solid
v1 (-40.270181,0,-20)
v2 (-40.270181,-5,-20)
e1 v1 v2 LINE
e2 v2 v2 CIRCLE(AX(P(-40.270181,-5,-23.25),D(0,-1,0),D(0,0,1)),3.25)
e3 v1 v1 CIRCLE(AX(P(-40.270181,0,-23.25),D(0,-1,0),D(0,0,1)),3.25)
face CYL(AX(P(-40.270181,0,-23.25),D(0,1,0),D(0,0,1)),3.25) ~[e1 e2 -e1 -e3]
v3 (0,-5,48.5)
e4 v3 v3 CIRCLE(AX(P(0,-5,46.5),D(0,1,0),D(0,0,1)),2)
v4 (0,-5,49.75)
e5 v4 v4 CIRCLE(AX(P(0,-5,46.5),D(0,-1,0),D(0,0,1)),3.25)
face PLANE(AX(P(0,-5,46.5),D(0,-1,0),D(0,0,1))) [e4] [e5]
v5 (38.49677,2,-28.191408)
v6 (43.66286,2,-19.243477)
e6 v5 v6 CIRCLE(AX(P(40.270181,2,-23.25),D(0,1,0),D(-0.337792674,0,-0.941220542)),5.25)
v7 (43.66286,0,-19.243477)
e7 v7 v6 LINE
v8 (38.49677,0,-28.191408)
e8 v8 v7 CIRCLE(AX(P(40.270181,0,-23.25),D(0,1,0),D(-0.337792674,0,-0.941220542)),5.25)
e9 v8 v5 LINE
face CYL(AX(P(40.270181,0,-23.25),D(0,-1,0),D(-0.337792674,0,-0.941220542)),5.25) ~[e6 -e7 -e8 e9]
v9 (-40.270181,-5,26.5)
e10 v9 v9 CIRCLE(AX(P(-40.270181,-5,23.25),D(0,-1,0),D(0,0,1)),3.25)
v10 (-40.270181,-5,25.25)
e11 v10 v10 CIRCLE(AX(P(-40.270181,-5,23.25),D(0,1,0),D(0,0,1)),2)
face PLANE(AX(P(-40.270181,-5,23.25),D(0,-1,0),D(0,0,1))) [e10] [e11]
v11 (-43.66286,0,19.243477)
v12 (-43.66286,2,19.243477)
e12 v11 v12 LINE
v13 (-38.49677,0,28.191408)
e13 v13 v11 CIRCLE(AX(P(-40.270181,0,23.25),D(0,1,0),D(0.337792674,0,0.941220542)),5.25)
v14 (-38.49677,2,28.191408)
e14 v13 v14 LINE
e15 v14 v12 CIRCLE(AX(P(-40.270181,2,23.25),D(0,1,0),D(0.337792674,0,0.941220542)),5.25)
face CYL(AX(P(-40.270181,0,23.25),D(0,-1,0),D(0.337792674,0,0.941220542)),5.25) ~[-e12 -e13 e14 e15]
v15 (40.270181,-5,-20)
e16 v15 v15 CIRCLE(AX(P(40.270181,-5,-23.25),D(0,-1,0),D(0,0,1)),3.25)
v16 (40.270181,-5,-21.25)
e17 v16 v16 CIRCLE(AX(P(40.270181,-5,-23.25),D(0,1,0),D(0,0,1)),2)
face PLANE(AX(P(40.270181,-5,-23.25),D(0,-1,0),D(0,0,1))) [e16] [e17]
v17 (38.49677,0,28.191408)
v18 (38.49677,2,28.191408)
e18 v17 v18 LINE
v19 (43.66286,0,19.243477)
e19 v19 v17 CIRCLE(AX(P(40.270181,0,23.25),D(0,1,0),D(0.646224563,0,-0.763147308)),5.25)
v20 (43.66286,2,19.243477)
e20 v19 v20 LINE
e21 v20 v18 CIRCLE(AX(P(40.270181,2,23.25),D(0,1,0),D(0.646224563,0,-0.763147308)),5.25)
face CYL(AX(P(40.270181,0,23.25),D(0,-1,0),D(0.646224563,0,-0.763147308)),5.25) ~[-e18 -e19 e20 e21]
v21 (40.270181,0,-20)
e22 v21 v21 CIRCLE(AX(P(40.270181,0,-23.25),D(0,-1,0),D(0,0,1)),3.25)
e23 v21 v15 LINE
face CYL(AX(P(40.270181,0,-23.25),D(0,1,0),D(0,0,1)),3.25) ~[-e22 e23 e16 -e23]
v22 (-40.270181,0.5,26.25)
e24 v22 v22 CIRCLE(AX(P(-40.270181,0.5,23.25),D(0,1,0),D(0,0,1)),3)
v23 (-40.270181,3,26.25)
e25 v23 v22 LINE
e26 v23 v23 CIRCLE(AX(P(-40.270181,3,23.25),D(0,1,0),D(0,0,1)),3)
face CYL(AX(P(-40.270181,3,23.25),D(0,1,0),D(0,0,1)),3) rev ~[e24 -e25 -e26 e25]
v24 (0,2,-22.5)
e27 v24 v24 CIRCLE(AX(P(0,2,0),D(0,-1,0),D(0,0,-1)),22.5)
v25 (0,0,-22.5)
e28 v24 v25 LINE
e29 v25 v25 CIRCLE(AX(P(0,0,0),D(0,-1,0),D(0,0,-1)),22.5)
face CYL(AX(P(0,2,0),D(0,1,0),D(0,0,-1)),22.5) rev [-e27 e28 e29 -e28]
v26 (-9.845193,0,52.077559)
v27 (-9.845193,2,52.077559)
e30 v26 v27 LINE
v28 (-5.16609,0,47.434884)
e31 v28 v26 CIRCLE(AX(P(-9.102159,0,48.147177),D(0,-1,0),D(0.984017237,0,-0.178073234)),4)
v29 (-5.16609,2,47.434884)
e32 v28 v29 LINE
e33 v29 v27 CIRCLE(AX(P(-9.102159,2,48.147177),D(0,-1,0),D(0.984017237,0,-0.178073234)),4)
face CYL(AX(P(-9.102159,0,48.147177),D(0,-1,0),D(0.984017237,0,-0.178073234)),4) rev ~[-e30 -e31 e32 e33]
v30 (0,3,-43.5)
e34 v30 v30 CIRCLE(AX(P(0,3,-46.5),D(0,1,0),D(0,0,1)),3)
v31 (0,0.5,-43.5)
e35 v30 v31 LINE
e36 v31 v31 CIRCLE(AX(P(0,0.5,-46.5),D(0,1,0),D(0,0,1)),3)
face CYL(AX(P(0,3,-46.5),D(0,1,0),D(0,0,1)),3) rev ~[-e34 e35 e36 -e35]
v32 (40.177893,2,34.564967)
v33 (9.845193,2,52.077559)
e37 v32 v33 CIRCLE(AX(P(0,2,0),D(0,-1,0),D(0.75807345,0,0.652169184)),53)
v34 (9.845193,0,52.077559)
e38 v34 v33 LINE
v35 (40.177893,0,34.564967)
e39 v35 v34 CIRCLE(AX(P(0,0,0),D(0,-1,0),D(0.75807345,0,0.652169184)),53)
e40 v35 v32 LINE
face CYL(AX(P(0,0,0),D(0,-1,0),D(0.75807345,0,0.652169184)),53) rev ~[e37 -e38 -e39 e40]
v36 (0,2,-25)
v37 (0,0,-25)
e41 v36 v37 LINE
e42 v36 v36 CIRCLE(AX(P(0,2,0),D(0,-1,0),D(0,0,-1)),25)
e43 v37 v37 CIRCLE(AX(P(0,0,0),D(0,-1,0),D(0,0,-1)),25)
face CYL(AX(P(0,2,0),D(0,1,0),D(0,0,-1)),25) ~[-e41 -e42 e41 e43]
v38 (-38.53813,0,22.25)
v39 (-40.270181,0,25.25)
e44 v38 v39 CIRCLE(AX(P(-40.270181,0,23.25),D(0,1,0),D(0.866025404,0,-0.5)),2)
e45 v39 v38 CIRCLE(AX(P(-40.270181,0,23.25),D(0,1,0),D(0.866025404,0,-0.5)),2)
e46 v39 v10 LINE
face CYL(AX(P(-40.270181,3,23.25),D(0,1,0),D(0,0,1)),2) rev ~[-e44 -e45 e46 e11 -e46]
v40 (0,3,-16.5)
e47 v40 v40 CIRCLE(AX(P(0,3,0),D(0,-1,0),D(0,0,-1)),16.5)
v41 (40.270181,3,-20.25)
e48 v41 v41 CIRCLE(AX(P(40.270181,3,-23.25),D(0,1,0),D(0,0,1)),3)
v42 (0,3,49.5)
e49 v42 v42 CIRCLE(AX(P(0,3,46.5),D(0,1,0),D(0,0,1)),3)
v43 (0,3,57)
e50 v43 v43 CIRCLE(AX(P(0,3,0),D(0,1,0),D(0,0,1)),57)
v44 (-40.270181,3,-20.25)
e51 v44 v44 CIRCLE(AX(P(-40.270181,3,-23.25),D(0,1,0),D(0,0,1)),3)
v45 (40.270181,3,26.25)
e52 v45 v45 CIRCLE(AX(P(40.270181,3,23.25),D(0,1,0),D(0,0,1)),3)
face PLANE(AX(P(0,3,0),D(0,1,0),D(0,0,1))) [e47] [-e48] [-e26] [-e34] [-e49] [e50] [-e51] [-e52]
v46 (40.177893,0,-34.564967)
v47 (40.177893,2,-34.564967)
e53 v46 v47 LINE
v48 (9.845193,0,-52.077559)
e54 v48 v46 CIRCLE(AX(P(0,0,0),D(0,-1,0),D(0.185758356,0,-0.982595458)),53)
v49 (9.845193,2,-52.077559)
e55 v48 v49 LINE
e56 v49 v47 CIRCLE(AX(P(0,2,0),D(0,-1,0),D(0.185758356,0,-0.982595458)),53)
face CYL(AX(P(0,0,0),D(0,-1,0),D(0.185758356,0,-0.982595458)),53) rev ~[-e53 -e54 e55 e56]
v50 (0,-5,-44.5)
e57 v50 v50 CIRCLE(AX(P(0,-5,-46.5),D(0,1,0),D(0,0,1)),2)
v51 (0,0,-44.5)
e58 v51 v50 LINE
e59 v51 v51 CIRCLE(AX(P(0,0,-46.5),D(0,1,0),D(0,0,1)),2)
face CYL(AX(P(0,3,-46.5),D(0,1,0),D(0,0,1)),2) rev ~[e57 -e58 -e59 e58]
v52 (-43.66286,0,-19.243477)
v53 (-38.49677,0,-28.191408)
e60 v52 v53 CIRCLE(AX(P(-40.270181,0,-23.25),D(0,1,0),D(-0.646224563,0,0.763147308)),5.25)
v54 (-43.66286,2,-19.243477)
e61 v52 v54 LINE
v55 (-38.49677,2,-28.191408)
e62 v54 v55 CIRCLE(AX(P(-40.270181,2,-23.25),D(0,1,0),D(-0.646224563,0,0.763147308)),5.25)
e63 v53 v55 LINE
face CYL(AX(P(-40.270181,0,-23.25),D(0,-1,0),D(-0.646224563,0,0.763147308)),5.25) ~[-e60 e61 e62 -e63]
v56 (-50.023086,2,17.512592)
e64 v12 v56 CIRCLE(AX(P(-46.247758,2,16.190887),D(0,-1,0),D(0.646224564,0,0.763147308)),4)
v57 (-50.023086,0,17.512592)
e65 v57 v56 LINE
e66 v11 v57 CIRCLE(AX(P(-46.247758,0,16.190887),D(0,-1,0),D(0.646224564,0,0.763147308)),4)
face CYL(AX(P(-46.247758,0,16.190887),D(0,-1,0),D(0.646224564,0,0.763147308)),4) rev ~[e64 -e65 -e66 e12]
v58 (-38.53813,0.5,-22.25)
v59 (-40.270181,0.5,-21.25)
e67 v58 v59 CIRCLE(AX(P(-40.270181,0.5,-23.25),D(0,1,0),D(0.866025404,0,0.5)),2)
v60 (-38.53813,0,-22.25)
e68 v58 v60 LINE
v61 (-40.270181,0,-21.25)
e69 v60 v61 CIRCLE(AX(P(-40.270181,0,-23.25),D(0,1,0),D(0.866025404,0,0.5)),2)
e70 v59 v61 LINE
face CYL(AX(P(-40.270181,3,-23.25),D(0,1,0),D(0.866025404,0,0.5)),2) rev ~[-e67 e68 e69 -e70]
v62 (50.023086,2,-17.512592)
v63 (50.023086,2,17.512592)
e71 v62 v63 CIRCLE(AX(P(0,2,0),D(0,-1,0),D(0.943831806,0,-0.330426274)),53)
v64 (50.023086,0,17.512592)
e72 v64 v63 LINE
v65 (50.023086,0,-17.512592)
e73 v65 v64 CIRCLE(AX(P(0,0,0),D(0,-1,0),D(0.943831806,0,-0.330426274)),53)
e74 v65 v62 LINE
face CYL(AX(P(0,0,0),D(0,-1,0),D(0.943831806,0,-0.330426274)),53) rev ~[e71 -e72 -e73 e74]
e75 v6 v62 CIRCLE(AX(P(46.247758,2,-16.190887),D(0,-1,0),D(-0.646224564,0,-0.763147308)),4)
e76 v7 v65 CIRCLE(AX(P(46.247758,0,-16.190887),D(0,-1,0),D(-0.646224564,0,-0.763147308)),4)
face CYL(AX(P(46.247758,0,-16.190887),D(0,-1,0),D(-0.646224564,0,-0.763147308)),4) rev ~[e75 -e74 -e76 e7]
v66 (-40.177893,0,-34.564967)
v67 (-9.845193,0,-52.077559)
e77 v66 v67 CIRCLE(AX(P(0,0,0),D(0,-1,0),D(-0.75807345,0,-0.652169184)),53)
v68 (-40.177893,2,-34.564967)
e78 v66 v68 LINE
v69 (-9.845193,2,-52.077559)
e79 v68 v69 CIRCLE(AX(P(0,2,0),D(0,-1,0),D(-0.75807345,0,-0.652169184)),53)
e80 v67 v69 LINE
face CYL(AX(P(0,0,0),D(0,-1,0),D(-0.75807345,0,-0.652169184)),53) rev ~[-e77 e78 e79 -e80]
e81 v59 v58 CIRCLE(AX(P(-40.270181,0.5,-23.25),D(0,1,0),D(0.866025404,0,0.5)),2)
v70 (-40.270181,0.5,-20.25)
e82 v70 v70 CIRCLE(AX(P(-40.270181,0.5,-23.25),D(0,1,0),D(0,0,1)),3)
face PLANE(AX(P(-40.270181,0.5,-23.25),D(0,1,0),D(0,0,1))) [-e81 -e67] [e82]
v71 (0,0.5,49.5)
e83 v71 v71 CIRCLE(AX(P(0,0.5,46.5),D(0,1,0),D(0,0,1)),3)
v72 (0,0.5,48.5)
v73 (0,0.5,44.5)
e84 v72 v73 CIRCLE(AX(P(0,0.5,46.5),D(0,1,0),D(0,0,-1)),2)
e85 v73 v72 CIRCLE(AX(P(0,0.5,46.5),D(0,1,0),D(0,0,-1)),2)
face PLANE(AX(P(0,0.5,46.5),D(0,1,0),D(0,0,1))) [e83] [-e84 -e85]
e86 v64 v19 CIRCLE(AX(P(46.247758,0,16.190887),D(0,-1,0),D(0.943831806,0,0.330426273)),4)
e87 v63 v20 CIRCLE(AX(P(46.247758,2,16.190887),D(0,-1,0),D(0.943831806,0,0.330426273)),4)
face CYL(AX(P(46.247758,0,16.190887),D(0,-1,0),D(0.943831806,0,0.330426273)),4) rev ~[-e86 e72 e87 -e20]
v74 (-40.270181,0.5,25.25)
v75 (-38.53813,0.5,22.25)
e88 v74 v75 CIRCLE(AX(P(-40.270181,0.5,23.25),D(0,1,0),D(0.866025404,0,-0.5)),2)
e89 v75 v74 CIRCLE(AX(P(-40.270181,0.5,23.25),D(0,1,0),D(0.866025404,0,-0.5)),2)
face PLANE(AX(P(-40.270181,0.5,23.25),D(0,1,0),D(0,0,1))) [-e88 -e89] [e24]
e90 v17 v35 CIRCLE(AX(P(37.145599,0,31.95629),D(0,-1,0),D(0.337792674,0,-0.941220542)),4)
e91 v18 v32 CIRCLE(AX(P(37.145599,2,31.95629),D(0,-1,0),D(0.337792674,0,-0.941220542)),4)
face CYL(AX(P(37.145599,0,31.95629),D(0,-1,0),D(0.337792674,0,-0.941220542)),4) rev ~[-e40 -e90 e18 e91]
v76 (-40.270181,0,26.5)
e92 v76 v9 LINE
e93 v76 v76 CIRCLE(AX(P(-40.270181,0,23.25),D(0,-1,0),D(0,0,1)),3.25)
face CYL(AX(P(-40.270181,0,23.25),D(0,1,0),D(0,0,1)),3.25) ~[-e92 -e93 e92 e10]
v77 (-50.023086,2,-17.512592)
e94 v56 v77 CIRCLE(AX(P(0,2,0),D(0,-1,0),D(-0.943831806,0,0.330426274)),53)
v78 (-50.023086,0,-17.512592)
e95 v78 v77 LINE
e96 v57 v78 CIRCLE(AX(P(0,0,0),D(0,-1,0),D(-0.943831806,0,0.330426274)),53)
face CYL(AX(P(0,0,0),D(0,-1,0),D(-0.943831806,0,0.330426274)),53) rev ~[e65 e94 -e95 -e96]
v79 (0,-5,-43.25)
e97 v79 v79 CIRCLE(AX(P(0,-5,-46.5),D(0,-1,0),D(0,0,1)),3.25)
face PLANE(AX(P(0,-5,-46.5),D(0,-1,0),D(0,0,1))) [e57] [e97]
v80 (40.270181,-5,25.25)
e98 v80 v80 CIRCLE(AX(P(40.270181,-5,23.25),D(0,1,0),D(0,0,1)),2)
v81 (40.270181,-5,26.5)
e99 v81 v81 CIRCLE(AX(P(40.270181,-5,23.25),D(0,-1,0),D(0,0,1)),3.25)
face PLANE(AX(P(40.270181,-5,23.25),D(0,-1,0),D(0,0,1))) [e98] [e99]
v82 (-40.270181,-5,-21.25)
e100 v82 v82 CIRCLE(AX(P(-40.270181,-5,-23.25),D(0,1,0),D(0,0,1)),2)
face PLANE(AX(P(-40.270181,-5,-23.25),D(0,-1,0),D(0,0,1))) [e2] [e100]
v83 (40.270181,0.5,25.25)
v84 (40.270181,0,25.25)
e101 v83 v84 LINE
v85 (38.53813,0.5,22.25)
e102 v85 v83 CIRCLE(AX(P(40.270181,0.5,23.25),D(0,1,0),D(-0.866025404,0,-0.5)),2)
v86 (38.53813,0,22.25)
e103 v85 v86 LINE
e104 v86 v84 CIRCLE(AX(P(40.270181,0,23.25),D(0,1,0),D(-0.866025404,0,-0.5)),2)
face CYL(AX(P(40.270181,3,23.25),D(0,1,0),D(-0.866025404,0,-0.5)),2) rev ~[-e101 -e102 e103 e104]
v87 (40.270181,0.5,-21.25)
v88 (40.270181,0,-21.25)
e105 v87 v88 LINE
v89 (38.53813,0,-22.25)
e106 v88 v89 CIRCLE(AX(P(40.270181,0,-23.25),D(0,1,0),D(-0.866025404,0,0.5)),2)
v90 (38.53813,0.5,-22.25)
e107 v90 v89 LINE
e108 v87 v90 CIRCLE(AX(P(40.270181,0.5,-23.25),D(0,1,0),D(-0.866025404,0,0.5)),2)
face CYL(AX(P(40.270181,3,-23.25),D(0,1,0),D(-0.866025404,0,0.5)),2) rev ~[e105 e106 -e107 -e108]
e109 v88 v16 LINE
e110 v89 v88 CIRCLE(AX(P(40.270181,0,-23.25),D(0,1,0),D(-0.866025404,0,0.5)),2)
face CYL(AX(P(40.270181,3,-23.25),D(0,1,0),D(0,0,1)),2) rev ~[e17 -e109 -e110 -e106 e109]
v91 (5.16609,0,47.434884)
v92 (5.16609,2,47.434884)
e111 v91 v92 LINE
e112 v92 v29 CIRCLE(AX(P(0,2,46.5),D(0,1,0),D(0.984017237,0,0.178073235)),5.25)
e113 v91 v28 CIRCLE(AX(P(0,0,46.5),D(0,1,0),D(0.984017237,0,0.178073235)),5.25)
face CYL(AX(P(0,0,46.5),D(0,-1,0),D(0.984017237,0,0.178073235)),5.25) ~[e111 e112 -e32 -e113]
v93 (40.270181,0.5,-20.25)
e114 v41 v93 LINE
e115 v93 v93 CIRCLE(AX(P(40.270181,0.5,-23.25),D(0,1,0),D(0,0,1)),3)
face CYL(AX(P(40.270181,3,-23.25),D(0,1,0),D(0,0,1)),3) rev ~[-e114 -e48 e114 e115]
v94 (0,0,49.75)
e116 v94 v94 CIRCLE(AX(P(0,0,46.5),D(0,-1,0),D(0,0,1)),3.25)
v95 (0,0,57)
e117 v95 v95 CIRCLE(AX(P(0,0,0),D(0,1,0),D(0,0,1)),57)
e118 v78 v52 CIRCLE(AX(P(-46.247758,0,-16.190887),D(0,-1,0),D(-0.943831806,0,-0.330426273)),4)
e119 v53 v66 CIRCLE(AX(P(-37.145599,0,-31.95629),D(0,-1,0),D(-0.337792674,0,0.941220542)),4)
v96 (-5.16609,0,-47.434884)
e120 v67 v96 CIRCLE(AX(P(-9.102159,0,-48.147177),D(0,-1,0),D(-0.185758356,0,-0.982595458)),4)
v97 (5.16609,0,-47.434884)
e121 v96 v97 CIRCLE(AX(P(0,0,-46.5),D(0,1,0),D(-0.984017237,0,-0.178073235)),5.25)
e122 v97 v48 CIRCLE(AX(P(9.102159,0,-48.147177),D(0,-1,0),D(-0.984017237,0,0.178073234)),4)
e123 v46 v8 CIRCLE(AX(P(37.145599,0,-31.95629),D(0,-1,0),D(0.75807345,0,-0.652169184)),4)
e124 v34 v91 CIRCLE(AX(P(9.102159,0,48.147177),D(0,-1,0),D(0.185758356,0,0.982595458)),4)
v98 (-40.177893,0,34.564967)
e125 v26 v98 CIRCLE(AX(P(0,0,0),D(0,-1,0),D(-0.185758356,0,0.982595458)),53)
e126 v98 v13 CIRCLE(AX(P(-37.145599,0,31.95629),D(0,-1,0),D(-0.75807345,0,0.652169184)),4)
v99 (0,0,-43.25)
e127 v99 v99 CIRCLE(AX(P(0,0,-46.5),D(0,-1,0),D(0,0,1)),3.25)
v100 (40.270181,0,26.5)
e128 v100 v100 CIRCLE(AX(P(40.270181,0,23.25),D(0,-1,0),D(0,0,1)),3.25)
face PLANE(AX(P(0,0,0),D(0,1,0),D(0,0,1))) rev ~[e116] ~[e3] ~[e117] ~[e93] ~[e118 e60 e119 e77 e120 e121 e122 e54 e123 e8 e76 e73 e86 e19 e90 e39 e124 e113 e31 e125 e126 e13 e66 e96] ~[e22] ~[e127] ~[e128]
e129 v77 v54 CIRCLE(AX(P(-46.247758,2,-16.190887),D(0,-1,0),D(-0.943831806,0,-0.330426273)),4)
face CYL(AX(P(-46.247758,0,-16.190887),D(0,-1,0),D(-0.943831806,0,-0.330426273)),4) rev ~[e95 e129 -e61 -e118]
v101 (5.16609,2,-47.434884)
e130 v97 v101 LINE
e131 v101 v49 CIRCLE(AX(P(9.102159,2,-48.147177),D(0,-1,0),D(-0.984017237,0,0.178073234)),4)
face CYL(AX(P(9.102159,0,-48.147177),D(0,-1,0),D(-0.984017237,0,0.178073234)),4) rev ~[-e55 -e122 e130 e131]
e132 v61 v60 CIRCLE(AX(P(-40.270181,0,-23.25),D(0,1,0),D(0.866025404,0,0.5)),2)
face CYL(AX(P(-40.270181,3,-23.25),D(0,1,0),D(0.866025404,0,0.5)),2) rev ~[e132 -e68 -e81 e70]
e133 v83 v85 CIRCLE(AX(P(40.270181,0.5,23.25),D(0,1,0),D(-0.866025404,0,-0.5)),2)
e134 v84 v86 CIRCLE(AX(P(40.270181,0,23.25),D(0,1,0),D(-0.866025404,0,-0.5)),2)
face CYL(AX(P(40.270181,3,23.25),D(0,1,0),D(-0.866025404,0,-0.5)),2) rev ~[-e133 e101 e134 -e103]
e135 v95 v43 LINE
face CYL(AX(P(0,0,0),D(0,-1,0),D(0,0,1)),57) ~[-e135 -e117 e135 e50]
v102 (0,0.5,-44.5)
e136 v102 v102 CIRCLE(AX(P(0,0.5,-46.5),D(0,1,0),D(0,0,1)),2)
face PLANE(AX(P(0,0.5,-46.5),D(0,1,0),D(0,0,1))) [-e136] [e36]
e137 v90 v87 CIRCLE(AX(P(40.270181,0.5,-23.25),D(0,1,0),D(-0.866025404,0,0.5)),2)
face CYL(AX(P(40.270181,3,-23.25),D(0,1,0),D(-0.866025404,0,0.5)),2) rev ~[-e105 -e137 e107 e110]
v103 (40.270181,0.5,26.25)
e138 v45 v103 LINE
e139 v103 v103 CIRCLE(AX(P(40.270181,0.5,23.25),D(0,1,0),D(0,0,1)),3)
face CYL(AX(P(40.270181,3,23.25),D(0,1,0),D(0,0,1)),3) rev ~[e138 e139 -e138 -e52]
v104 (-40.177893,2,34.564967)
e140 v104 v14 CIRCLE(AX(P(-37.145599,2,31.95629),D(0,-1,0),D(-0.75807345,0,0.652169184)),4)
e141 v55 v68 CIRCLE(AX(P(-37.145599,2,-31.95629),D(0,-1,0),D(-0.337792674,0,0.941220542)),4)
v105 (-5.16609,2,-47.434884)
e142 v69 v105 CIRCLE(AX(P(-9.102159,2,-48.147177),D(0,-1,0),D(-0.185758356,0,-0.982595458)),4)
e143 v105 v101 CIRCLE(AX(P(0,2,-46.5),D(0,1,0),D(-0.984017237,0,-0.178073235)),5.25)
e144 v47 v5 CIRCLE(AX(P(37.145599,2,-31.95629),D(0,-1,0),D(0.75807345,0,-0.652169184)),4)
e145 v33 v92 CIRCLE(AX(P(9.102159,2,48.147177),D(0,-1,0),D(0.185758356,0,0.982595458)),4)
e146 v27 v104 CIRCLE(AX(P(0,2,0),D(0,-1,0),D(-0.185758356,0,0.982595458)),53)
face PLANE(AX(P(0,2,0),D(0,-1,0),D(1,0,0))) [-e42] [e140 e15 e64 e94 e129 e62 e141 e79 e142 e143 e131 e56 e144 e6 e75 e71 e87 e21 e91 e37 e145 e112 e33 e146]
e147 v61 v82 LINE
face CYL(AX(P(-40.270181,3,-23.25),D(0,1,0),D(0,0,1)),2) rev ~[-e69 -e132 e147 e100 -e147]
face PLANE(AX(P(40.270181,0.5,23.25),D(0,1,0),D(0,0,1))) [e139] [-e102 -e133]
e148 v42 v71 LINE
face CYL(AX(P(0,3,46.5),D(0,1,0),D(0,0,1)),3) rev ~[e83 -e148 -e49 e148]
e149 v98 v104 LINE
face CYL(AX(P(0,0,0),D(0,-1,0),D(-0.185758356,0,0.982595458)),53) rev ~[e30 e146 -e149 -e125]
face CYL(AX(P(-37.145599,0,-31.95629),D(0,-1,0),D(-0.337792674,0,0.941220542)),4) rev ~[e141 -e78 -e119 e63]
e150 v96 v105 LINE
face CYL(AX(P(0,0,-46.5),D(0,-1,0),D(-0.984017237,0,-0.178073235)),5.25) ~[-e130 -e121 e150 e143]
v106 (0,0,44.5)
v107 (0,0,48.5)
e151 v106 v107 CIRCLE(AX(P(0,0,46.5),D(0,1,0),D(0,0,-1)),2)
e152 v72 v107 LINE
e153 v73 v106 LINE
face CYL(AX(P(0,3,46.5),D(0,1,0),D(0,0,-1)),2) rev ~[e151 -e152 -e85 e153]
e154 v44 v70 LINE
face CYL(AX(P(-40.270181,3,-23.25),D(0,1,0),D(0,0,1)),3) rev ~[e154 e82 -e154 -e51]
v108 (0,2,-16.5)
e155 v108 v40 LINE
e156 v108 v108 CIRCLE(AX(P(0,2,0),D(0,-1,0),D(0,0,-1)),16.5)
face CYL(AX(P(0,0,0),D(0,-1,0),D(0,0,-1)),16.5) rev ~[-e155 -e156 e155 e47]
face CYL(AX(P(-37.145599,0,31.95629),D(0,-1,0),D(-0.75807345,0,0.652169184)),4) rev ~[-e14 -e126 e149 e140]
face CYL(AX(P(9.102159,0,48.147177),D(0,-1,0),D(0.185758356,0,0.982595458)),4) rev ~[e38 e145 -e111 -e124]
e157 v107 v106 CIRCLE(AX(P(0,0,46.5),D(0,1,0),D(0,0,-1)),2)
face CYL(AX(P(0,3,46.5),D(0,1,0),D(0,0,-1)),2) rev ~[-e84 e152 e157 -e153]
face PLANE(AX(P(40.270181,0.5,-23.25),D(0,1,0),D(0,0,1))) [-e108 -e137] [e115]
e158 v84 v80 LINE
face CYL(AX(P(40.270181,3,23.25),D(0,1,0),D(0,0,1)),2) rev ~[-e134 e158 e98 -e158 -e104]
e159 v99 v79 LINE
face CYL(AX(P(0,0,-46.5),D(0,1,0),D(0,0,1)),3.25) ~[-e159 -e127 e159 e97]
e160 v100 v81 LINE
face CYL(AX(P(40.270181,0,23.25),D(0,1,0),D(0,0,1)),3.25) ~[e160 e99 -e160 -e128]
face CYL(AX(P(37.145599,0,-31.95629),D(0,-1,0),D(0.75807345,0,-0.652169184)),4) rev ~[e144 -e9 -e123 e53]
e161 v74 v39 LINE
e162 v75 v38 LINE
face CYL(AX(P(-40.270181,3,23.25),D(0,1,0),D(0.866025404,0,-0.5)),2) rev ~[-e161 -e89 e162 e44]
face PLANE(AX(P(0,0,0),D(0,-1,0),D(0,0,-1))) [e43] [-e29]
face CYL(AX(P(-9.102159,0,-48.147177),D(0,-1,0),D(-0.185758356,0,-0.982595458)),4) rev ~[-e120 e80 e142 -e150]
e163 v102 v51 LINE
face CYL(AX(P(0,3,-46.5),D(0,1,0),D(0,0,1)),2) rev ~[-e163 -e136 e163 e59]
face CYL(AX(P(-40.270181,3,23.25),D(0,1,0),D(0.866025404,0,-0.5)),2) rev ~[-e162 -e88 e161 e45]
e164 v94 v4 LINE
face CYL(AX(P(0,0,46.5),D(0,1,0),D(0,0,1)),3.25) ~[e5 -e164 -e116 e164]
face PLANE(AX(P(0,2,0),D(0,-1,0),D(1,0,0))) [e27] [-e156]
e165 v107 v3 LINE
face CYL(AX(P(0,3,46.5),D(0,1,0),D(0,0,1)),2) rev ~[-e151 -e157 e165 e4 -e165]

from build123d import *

# Parameters (mm, degrees)
SKETCH1_R           = 57
BOSS_EXTRUDE1_DEPTH = 3
SKETCH2_R           = 2
CUT_EXTRUDE1_DEPTH  = 81.665977958
CIRPATTERN1_COUNT   = 6
SKETCH5_R           = 3.25
BOSS_EXTRUDE2_DEPTH = 5
SKETCH4_R           = 16.5
CUT_EXTRUDE3_DEPTH  = 81.765091469
SKETCH8_R           = 2
CUT_EXTRUDE4_DEPTH  = 82.006172604
SKETCH9_R           = 3
CUT_EXTRUDE5_DEPTH  = 2.5
CUT_EXTRUDE7_DEPTH  = 2
CIRPATTERN3_COUNT   = 6
SKETCH12_R          = 25
SKETCH12_R_2        = 22.5
BOSS_EXTRUDE3_DEPTH = 2


with BuildPart() as part:
    # Sketch1 → Boss-Extrude1 (new body)
    with BuildSketch(Plane(origin=(0, 0, 0), x_dir=(1, 0, 0), z_dir=(0, 1, 0))):
        with Locations(Location((0, 0, 0), (0, 0, 270))):
            Circle(SKETCH1_R)
    extrude(amount=BOSS_EXTRUDE1_DEPTH)

    # Sketch2 → Cut-Extrude1 (cut, through all)
    with BuildSketch(Plane(origin=(0, 3, 0), x_dir=(1, 0, 0), z_dir=(0, 1, 0))):
        with Locations(Location((0, 46.5, 0), (0, 0, 270))):
            Circle(SKETCH2_R)
    cut_extrude1 = extrude(amount=-CUT_EXTRUDE1_DEPTH, mode=Mode.SUBTRACT)

    # CirPattern1: Cut-Extrude1 ×6 about axis
    cirpattern1_axis = Axis((0, 0, 0), (0, 1, 0))
    for i in range(1, CIRPATTERN1_COUNT):
        add(cut_extrude1.rotate(cirpattern1_axis, i * 360 / CIRPATTERN1_COUNT), mode=Mode.SUBTRACT)

    # Sketch5 → Boss-Extrude2 (add)
    with BuildSketch(Plane.XZ):
        with Locations(Location((0, 46.5, 0), (0, 0, 90))):
            Circle(SKETCH5_R)
        with Locations(Location((40.270181276, 23.25, 0), (0, 0, 90))):
            Circle(SKETCH5_R)
        with Locations(Location((40.270181276, -23.25, 0), (0, 0, 90))):
            Circle(SKETCH5_R)
        with Locations(Location((0, -46.5, 0), (0, 0, 90))):
            Circle(SKETCH5_R)
        with Locations(Location((-40.270181276, -23.25, 0), (0, 0, 90))):
            Circle(SKETCH5_R)
        with Locations(Location((-40.270181276, 23.25, 0), (0, 0, 90))):
            Circle(SKETCH5_R)
    extrude(amount=BOSS_EXTRUDE2_DEPTH)

    # Sketch4 → Cut-Extrude3 (cut, through all)
    with BuildSketch(Plane.XZ):
        with Locations(Location((0, 0, 0), (0, 0, 270))):
            Circle(SKETCH4_R)
    extrude(amount=-CUT_EXTRUDE3_DEPTH, mode=Mode.SUBTRACT)

    # Sketch8 → Cut-Extrude4 (cut, through all)
    with BuildSketch(Plane(origin=(0, 3, 0), x_dir=(1, 0, 0), z_dir=(0, 1, 0))):
        with Locations(Location((-40.270181276, -23.25, 0), (0, 0, 270))):
            Circle(SKETCH8_R)
        with Locations(Location((0, -46.5, 0), (0, 0, 270))):
            Circle(SKETCH8_R)
        with Locations(Location((40.270181276, -23.25, 0), (0, 0, 270))):
            Circle(SKETCH8_R)
        with Locations(Location((40.270181276, 23.25, 0), (0, 0, 270))):
            Circle(SKETCH8_R)
        with Locations(Location((0, 46.5, 0), (0, 0, 270))):
            Circle(SKETCH8_R)
        with Locations(Location((-40.270181276, 23.25, 0), (0, 0, 270))):
            Circle(SKETCH8_R)
    extrude(amount=-CUT_EXTRUDE4_DEPTH, mode=Mode.SUBTRACT)

    # Sketch9 → Cut-Extrude5 (cut)
    with BuildSketch(Plane(origin=(0, 3, 0), x_dir=(1, 0, 0), z_dir=(0, 1, 0))):
        with Locations(Location((-40.270181276, 23.25, 0), (0, 0, 270))):
            Circle(SKETCH9_R)
        with Locations(Location((0, 46.5, 0), (0, 0, 270))):
            Circle(SKETCH9_R)
        with Locations(Location((40.270181276, 23.25, 0), (0, 0, 270))):
            Circle(SKETCH9_R)
        with Locations(Location((40.270181276, -23.25, 0), (0, 0, 270))):
            Circle(SKETCH9_R)
        with Locations(Location((0, -46.5, 0), (0, 0, 270))):
            Circle(SKETCH9_R)
        with Locations(Location((-40.270181276, -23.25, 0), (0, 0, 270))):
            Circle(SKETCH9_R)
    extrude(amount=-CUT_EXTRUDE5_DEPTH, mode=Mode.SUBTRACT)

    # Sketch11 → Cut-Extrude7 (cut)
    with BuildSketch(Plane.XZ):
        with BuildLine():
            ThreePointArc((-50.023085711, 17.512592496), (-53, 0), (-50.023085711, -17.512592496))
            ThreePointArc((-50.023085711, -17.512592496), (-47.298125213, -20.050515589), (-43.662860234, -19.243476633))
            ThreePointArc((-43.662860234, -19.243476633), (-35.723547906, -20.625), (-38.496769739, -28.191407848))
            ThreePointArc((-38.496769739, -28.191407848), (-41.013318465, -30.936120192), (-40.177892843, -34.564966754))
            ThreePointArc((-40.177892843, -34.564966754), (-26.5, -45.899346401), (-9.845192868, -52.07755925))
            ThreePointArc((-9.845192868, -52.07755925), (-6.284806748, -50.98663578), (-5.166090495, -47.434884481))
            ThreePointArc((-5.166090495, -47.434884481), (0, -41.25), (5.166090495, -47.434884481))
            ThreePointArc((5.166090495, -47.434884481), (6.284806748, -50.98663578), (9.845192868, -52.07755925))
            ThreePointArc((9.845192868, -52.07755925), (26.5, -45.899346401), (40.177892843, -34.564966754))
            ThreePointArc((40.177892843, -34.564966754), (41.013318465, -30.936120192), (38.496769739, -28.191407848))
            ThreePointArc((38.496769739, -28.191407848), (35.723547906, -20.625), (43.662860234, -19.243476633))
            ThreePointArc((43.662860234, -19.243476633), (47.298125213, -20.050515589), (50.023085711, -17.512592496))
            ThreePointArc((50.023085711, -17.512592496), (53, 0), (50.023085711, 17.512592496))
            ThreePointArc((50.023085711, 17.512592496), (47.298125213, 20.050515589), (43.662860234, 19.243476633))
            ThreePointArc((43.662860234, 19.243476633), (35.723547906, 20.625), (38.496769739, 28.191407848))
            ThreePointArc((38.496769739, 28.191407848), (41.013318465, 30.936120192), (40.177892843, 34.564966754))
            ThreePointArc((40.177892843, 34.564966754), (26.5, 45.899346401), (9.845192868, 52.07755925))
            ThreePointArc((9.845192868, 52.07755925), (6.284806748, 50.98663578), (5.166090495, 47.434884481))
            ThreePointArc((5.166090495, 47.434884481), (0, 41.25), (-5.166090495, 47.434884481))
            ThreePointArc((-5.166090495, 47.434884481), (-6.284806748, 50.98663578), (-9.845192868, 52.07755925))
            ThreePointArc((-9.845192868, 52.07755925), (-26.5, 45.899346401), (-40.177892843, 34.564966754))
            ThreePointArc((-40.177892843, 34.564966754), (-41.013318465, 30.936120192), (-38.496769739, 28.191407848))
            ThreePointArc((-38.496769739, 28.191407848), (-35.723547906, 20.625), (-43.662860234, 19.243476633))
            ThreePointArc((-43.662860234, 19.243476633), (-47.298125213, 20.050515589), (-50.023085711, 17.512592496))
        make_face()
    cut_extrude7 = extrude(amount=-CUT_EXTRUDE7_DEPTH, mode=Mode.SUBTRACT)

    # CirPattern3: Cut-Extrude7 ×6 about axis
    cirpattern3_axis = Axis((0, 0, 0), (0, -1, 0))
    for i in range(1, CIRPATTERN3_COUNT):
        add(cut_extrude7.rotate(cirpattern3_axis, i * 360 / CIRPATTERN3_COUNT), mode=Mode.SUBTRACT)

    # Sketch12 → Boss-Extrude3 (add)
    with BuildSketch(Plane.XZ.offset(-2)):
        with Locations(Location((0, 0, 0), (0, 0, 270))):
            Circle(SKETCH12_R)
        with Locations(Location((0, 0, 0), (0, 0, 270))):
            Circle(SKETCH12_R_2, mode=Mode.SUBTRACT)
    extrude(amount=BOSS_EXTRUDE3_DEPTH)


solid = part.part
